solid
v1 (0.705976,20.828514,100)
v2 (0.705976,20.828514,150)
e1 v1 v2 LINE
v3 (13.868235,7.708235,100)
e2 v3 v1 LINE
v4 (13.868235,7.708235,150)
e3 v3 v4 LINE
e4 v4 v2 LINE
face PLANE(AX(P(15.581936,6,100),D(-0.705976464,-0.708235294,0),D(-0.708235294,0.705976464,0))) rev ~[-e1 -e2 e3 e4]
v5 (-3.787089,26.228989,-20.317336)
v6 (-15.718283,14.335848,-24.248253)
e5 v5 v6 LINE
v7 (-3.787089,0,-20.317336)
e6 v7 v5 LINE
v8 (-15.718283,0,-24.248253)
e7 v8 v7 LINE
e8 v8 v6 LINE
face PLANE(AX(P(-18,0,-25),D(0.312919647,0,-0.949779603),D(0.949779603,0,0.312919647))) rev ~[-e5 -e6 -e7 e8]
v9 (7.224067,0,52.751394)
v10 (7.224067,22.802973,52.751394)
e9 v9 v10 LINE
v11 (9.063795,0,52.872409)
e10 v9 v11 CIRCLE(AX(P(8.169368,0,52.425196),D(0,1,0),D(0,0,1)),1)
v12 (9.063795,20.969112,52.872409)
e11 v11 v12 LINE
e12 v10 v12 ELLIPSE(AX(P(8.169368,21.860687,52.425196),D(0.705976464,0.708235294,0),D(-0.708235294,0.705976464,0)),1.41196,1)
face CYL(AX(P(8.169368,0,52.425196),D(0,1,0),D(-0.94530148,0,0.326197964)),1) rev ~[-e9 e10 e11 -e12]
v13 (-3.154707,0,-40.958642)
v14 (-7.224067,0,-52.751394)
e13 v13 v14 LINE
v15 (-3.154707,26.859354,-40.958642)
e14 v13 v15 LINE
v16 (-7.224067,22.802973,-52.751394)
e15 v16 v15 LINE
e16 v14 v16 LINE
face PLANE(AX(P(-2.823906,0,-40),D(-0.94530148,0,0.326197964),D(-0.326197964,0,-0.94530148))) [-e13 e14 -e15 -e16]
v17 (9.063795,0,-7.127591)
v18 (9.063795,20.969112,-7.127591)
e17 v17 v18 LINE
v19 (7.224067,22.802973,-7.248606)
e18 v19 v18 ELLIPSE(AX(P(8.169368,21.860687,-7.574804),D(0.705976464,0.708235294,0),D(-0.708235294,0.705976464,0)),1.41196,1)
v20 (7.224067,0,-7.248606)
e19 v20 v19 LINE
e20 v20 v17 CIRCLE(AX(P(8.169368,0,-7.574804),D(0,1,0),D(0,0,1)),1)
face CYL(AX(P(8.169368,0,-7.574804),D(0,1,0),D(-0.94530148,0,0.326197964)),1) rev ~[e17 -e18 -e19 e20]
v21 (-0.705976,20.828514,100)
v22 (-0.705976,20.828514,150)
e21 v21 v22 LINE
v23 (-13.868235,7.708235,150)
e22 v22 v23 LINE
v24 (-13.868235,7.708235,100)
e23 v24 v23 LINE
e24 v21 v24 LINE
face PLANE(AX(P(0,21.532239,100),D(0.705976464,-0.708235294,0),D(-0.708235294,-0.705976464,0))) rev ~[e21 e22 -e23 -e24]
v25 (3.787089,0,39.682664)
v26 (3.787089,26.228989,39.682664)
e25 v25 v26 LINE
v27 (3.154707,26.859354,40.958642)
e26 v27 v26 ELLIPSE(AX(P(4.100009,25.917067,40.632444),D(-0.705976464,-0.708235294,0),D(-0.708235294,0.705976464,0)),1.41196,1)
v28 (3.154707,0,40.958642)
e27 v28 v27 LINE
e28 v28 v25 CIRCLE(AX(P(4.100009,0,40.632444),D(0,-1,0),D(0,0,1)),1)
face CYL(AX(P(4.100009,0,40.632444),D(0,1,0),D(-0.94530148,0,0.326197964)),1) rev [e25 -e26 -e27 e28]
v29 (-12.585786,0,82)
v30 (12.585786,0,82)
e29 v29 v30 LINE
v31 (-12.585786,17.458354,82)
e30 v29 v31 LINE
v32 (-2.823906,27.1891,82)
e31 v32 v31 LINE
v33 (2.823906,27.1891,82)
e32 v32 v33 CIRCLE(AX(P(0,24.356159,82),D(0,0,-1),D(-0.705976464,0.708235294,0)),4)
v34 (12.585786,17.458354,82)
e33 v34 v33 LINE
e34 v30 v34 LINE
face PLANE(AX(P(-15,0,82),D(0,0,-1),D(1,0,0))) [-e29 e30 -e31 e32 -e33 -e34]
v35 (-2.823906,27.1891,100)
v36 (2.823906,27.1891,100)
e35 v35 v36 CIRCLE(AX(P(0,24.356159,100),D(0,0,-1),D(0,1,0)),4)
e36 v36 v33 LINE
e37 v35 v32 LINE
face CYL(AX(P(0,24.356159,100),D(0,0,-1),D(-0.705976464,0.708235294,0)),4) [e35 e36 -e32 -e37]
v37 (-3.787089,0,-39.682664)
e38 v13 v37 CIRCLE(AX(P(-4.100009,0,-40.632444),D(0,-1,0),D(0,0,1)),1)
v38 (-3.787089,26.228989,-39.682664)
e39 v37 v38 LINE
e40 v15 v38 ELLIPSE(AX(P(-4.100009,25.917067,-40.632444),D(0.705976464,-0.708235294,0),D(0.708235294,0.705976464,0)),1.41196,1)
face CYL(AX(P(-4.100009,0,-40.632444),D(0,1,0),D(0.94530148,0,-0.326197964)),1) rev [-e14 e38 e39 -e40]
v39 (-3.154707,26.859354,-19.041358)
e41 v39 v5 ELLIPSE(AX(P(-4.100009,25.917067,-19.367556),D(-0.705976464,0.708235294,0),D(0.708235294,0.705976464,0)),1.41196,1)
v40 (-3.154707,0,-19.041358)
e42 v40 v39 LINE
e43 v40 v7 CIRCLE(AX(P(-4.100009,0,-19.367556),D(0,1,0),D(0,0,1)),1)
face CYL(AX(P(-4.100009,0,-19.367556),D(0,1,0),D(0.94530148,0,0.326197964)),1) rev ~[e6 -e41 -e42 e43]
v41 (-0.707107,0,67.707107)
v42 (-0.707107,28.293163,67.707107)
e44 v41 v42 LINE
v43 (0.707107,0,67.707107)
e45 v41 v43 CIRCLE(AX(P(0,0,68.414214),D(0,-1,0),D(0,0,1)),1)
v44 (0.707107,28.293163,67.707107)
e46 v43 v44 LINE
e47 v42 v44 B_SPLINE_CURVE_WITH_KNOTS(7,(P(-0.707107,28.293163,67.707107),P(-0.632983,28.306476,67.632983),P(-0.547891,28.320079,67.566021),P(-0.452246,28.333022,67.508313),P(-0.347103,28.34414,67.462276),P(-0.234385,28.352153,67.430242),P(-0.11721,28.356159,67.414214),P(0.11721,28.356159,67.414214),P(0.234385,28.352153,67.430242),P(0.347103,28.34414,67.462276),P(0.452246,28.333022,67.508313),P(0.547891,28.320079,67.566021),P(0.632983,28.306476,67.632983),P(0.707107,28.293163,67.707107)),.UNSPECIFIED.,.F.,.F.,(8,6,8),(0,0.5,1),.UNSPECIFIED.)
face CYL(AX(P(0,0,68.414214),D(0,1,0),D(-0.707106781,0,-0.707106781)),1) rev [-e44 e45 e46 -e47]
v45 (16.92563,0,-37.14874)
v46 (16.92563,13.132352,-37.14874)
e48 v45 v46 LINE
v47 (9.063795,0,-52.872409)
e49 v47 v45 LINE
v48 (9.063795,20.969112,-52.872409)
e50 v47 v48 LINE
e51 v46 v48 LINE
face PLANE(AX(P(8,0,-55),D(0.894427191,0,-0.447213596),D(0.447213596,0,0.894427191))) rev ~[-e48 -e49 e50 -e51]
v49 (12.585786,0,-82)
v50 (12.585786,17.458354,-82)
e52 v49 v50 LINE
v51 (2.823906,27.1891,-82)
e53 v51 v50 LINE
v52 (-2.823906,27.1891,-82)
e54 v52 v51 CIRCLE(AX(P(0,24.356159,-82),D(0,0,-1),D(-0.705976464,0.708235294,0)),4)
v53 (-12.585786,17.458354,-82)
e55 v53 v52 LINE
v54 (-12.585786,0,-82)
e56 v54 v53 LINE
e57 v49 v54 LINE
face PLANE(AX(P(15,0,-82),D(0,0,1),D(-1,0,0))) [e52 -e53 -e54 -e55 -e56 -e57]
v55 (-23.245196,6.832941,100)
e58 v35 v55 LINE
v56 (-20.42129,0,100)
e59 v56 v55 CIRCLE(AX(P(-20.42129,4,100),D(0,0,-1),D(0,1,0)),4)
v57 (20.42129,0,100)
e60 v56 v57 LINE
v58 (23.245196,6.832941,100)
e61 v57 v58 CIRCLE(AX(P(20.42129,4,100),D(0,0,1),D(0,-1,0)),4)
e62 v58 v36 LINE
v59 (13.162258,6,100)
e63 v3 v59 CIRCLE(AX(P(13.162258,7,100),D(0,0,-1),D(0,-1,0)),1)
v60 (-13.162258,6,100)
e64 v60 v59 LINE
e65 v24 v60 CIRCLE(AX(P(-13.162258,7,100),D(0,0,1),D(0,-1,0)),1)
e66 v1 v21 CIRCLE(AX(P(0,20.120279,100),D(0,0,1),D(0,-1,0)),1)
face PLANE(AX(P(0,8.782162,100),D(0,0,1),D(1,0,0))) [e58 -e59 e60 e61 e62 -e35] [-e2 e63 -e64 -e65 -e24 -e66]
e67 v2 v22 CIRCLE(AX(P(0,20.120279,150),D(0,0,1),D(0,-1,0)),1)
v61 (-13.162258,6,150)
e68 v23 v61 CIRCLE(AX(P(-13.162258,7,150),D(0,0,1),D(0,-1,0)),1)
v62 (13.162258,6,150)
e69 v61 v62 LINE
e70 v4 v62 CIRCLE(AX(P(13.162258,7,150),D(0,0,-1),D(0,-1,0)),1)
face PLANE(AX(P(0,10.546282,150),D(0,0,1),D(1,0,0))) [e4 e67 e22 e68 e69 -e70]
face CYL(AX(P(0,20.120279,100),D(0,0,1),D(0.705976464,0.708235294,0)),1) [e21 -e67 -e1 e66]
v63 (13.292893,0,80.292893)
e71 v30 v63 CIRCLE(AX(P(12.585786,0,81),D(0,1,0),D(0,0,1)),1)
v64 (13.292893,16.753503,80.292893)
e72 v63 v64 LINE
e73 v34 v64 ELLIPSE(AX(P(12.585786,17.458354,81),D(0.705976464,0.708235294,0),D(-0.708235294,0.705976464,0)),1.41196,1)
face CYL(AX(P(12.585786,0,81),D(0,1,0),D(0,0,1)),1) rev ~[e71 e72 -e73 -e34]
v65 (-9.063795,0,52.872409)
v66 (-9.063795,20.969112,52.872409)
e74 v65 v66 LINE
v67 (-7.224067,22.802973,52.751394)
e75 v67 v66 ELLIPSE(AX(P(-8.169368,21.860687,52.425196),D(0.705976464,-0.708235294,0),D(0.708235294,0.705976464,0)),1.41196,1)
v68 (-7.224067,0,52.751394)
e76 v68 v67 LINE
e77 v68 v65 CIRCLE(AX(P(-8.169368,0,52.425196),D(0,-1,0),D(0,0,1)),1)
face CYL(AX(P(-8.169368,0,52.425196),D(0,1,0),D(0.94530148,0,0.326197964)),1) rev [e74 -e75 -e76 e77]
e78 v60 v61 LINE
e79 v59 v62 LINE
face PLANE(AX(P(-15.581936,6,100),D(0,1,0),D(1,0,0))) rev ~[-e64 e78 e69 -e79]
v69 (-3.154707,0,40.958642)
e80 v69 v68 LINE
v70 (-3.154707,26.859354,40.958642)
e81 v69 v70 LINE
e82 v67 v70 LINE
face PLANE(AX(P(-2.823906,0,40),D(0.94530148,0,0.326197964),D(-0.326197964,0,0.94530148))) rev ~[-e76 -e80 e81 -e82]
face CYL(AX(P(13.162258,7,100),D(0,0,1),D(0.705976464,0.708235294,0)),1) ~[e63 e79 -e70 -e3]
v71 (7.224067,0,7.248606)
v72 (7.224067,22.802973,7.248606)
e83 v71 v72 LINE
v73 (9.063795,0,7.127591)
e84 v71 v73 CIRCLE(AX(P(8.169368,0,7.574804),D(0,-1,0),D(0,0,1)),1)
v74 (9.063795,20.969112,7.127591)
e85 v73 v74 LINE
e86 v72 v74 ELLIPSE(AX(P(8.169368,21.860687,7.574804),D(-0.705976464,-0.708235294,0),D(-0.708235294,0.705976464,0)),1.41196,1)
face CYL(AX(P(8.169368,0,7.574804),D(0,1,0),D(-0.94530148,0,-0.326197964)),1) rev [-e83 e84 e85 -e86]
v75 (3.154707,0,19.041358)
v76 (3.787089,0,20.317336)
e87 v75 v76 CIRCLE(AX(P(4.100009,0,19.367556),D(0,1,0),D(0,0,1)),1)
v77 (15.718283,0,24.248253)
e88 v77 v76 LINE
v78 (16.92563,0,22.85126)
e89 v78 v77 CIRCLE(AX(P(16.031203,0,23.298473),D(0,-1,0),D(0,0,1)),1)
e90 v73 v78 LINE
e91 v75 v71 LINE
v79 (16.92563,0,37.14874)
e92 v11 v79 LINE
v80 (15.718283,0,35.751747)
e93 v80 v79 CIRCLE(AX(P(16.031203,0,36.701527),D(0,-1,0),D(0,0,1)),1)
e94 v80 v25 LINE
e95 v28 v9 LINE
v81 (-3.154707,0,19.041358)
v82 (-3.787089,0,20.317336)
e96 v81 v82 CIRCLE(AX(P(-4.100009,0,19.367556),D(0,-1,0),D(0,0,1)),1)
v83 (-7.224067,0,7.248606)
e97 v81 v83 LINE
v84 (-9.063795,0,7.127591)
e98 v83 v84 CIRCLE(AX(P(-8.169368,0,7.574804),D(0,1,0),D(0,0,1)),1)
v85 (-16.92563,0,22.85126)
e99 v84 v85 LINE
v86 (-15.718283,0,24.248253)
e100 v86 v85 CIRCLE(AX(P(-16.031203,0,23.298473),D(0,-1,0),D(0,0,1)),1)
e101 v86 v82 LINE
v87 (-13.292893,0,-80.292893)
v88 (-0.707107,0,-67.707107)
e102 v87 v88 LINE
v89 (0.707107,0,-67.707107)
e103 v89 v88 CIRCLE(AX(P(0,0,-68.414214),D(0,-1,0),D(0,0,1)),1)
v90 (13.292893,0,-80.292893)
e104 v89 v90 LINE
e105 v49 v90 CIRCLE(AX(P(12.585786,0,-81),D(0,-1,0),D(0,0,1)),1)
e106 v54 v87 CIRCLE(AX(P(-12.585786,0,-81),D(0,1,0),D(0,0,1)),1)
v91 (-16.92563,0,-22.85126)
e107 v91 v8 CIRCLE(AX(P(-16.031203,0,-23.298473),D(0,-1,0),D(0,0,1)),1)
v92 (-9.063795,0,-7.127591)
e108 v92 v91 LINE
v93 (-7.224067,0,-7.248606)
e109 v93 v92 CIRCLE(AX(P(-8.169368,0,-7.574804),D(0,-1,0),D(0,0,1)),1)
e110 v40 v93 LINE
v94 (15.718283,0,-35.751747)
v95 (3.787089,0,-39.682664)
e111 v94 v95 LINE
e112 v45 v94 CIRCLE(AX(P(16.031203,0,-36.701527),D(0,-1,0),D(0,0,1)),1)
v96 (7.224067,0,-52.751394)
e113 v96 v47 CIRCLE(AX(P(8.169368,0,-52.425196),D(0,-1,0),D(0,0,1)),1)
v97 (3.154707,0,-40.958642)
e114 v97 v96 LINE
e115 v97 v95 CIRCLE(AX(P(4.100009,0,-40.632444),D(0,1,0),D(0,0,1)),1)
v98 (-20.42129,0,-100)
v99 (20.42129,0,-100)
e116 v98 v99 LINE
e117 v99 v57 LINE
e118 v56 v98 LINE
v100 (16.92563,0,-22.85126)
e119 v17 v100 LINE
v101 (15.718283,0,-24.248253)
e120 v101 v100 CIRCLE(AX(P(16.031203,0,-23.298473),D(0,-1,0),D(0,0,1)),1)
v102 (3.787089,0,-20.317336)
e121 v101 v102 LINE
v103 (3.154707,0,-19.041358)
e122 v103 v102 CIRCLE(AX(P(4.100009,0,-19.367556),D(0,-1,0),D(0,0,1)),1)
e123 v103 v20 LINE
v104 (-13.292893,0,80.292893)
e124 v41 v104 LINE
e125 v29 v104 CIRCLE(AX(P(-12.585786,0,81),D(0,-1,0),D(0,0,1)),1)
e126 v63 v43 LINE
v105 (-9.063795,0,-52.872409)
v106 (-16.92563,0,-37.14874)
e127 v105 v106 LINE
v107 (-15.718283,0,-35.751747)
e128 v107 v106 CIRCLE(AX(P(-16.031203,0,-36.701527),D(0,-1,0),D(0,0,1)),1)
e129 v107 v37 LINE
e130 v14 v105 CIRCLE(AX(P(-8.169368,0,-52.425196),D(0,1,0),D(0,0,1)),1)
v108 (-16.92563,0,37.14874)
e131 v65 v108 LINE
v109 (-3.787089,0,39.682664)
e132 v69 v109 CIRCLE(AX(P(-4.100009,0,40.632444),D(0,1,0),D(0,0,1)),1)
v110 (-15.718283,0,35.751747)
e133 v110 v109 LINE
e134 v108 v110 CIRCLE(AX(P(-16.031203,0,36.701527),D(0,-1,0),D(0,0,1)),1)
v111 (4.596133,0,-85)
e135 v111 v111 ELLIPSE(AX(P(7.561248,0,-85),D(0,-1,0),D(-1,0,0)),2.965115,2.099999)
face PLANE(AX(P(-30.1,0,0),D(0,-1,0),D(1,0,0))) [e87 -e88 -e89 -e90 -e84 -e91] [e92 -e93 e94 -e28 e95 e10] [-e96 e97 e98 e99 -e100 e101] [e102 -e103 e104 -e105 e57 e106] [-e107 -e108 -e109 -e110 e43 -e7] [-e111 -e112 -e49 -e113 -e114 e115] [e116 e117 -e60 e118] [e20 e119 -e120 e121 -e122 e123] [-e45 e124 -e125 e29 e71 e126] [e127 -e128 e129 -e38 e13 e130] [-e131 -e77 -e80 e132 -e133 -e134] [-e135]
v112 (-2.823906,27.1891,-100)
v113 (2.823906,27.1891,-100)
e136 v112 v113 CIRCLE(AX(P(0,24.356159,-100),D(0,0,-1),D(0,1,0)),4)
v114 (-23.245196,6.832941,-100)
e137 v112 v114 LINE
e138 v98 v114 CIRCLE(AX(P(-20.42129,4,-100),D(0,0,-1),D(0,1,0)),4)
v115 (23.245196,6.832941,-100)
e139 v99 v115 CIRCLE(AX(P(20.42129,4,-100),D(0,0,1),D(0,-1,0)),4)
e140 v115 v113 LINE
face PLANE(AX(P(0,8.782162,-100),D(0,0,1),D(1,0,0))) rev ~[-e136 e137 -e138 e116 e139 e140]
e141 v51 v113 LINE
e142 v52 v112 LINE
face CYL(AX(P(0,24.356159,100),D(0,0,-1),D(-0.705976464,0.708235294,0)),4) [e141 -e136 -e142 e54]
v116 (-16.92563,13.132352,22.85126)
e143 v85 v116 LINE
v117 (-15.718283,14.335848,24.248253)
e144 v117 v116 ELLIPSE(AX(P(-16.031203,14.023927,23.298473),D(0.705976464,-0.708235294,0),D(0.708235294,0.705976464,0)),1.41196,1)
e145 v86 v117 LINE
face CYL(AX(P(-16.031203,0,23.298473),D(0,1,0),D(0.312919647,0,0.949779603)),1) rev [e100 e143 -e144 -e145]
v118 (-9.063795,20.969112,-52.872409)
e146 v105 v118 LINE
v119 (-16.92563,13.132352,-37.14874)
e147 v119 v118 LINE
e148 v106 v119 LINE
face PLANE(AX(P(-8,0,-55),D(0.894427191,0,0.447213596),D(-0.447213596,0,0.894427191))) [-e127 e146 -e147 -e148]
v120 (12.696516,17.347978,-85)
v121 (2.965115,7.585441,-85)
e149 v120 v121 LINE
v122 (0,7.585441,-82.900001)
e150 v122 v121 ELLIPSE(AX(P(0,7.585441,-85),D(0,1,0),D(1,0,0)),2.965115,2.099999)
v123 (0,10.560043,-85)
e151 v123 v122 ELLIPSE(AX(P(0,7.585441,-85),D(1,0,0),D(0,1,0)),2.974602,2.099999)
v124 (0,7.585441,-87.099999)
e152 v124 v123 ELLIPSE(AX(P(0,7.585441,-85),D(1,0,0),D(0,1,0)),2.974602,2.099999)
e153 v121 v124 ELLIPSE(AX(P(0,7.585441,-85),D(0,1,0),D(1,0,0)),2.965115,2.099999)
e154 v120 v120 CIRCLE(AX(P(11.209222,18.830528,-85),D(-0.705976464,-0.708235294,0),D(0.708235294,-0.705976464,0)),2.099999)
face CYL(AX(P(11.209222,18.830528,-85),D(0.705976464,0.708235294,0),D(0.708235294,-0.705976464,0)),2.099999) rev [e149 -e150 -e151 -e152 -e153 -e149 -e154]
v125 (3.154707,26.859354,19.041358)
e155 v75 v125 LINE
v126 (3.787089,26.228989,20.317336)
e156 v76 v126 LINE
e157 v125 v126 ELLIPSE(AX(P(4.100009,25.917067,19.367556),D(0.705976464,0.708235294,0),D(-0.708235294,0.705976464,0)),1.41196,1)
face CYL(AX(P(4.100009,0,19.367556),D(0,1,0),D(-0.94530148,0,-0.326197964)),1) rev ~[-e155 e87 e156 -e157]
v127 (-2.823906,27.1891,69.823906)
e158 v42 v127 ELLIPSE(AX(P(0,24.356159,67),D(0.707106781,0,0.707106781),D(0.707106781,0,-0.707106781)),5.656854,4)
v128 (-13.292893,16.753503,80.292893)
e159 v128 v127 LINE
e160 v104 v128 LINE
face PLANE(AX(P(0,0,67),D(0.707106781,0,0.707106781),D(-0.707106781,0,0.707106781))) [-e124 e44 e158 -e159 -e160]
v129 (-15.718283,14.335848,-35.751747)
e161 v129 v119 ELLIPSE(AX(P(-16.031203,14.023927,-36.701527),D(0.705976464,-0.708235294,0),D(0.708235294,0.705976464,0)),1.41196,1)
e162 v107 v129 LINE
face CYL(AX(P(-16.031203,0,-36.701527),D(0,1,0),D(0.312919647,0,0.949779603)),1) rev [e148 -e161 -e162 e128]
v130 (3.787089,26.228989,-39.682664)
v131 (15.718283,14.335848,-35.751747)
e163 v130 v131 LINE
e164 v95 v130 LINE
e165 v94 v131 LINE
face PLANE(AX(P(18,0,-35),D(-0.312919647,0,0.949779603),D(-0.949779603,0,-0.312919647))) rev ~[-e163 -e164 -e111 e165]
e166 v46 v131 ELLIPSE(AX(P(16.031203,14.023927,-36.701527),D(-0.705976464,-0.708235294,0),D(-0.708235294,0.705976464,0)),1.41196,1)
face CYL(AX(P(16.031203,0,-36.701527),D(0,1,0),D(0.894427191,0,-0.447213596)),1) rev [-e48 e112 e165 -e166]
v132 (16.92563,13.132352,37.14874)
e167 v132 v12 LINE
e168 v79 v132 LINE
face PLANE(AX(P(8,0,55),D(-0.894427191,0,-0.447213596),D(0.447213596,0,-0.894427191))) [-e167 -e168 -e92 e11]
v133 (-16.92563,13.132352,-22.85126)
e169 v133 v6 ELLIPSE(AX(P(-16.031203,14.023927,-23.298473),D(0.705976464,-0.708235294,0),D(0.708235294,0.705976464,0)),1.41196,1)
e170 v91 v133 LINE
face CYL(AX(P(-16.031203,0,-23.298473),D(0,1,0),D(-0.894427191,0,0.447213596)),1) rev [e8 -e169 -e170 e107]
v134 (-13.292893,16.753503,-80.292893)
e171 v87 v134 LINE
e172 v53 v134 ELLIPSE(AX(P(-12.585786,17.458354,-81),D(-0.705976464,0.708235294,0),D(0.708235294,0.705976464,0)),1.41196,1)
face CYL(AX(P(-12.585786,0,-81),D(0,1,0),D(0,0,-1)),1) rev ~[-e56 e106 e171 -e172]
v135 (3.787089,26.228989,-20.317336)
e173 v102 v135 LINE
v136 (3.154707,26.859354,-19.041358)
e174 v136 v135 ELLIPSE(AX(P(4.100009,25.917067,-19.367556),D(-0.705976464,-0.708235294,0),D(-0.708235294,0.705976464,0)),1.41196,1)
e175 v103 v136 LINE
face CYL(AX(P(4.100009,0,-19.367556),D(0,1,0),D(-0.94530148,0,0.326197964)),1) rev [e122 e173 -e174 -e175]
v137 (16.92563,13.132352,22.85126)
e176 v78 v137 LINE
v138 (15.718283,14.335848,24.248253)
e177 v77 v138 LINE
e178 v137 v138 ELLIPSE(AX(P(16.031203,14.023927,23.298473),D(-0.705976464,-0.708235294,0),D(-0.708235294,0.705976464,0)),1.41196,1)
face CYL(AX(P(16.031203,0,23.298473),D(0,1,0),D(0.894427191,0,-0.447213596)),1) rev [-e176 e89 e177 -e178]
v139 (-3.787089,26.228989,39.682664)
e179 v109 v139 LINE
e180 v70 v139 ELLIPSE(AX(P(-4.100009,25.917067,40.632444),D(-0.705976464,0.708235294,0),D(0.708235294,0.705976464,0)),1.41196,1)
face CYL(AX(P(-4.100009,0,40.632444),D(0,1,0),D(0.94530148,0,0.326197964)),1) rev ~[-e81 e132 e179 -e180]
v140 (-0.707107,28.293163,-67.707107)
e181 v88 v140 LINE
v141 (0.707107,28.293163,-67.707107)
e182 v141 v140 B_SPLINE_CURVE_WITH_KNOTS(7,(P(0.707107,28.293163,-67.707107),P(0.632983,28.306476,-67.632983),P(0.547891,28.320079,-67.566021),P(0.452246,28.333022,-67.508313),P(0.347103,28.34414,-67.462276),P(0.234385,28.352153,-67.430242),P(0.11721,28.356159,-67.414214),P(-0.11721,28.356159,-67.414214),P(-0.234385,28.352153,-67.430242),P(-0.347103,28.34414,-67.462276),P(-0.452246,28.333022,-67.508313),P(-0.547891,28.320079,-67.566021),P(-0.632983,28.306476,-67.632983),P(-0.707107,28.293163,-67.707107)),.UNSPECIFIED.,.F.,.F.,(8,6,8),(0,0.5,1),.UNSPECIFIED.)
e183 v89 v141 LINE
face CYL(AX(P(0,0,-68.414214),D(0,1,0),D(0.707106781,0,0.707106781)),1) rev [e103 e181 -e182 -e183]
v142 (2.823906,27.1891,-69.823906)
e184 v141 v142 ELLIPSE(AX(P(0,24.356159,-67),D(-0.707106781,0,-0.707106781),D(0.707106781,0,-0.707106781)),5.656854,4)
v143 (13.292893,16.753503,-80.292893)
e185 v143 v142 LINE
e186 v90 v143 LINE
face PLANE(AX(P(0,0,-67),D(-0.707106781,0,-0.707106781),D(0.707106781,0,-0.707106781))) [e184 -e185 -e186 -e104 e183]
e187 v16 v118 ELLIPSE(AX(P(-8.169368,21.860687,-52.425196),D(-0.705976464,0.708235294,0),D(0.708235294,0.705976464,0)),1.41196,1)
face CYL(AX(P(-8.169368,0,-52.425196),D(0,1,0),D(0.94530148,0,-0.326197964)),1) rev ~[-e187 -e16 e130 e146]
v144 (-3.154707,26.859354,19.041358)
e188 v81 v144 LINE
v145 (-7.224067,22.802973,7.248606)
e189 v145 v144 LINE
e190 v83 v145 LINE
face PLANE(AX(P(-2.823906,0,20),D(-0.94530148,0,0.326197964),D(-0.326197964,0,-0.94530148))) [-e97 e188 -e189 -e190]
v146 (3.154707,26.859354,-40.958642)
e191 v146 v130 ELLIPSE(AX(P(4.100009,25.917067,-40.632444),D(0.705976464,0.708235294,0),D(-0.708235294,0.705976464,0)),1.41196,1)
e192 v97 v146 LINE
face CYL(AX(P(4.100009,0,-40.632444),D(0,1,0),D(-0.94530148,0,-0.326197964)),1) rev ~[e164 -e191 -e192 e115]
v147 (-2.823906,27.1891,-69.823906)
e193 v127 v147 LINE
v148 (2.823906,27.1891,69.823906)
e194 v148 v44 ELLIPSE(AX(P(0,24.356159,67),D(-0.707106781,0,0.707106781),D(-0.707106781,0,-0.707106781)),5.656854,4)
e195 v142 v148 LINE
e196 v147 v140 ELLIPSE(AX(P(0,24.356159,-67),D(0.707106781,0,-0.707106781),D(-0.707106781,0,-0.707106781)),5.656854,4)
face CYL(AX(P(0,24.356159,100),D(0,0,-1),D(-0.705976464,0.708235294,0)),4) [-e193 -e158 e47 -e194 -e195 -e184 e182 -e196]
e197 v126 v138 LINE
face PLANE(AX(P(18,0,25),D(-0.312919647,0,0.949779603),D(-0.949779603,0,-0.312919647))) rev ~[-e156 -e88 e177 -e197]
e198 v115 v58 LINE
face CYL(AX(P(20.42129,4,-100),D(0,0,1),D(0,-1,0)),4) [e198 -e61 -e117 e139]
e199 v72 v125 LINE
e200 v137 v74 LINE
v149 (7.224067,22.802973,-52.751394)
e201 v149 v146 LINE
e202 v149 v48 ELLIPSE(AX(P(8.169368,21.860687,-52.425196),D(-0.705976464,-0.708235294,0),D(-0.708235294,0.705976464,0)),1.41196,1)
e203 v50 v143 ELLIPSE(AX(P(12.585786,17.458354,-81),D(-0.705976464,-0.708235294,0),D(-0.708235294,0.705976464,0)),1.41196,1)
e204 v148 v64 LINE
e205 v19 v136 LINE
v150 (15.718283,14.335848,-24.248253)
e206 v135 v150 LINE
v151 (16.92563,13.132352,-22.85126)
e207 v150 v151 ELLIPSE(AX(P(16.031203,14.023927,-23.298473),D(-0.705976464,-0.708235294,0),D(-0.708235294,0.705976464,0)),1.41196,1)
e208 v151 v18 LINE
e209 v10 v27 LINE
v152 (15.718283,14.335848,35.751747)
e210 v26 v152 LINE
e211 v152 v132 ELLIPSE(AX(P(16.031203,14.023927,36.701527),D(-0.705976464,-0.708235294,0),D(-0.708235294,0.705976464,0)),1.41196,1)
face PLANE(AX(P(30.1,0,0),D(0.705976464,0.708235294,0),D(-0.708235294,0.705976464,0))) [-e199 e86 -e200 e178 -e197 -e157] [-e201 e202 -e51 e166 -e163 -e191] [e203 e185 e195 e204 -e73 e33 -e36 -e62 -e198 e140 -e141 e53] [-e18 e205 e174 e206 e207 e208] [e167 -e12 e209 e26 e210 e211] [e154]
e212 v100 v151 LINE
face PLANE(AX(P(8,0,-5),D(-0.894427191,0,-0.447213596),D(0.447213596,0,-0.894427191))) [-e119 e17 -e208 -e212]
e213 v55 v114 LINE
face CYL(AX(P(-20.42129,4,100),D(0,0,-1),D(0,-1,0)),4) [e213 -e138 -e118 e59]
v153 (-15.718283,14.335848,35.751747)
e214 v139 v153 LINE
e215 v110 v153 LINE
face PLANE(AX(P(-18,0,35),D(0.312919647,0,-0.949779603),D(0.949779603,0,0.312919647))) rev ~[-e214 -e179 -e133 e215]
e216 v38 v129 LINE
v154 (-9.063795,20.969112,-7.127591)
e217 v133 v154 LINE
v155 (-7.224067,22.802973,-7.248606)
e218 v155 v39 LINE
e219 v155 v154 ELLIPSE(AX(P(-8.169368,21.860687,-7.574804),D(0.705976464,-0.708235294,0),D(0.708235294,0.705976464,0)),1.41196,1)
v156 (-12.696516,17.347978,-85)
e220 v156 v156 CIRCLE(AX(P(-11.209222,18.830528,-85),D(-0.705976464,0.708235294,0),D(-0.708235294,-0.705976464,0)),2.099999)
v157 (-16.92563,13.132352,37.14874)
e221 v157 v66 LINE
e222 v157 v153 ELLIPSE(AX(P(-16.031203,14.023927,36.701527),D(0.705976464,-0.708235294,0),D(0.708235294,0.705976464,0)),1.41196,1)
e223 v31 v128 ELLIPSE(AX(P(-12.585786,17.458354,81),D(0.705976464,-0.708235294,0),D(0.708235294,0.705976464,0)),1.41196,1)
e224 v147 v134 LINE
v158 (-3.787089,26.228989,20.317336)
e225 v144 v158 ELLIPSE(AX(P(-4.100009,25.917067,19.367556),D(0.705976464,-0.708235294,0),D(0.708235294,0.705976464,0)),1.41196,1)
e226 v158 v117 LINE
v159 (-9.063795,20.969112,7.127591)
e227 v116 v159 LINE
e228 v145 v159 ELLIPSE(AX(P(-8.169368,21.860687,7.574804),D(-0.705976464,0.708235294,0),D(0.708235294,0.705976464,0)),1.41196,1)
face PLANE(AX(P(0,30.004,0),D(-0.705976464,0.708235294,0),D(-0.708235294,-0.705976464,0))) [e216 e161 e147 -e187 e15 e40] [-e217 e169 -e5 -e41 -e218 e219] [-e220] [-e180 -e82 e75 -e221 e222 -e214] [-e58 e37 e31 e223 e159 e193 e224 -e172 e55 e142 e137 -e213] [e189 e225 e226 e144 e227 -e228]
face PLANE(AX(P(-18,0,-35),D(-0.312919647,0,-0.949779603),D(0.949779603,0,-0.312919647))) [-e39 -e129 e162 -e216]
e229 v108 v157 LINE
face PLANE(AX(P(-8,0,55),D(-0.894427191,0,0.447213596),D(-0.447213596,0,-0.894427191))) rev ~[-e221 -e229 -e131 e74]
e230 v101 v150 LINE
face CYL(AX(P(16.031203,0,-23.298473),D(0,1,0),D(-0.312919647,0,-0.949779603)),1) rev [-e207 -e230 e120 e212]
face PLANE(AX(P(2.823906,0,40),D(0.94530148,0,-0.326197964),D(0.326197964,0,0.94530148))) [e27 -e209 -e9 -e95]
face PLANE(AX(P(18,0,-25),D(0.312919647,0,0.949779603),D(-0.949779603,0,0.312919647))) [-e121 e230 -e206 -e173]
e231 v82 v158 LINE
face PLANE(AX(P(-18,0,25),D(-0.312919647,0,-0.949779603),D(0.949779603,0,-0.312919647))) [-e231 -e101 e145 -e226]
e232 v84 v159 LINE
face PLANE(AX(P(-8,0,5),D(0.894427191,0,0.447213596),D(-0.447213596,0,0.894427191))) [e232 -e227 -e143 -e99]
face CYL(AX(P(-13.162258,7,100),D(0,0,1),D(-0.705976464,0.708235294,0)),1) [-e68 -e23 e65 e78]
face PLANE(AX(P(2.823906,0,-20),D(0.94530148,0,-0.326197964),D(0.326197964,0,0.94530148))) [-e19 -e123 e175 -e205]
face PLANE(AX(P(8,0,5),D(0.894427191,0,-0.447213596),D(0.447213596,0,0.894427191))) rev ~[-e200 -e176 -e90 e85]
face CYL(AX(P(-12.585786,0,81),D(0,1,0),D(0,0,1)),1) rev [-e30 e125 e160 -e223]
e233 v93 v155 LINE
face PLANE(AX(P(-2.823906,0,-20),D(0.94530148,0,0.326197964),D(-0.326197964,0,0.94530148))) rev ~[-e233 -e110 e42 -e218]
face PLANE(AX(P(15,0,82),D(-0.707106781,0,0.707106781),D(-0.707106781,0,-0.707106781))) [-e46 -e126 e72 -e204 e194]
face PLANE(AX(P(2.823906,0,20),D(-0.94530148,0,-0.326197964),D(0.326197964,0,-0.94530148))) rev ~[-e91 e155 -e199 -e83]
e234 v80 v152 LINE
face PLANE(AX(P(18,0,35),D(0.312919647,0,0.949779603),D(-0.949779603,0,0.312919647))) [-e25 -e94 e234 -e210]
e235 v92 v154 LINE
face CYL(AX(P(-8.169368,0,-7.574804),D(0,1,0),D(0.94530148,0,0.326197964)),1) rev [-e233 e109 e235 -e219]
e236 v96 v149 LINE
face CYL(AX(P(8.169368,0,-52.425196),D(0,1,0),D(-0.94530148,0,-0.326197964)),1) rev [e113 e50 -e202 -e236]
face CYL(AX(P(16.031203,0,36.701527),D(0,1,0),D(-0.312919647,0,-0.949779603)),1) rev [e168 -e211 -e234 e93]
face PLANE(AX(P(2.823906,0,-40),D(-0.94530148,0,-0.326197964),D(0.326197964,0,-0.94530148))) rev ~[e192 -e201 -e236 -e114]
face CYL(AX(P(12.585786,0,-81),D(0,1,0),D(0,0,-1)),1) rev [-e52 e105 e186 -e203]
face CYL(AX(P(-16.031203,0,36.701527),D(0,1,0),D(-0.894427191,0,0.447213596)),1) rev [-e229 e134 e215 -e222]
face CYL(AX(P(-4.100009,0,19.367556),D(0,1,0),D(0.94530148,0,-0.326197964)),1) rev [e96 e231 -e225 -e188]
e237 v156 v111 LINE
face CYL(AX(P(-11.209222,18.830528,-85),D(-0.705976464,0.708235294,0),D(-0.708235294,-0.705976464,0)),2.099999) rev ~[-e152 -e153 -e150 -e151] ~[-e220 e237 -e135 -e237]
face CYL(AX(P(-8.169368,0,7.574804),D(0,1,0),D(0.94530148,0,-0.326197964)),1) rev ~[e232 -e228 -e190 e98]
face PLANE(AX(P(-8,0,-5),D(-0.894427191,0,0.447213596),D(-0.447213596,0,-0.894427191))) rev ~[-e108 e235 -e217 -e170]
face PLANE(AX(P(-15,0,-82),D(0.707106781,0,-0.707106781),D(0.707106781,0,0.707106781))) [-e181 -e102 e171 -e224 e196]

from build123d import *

# Parameters (mm, degrees)
EXTRUDE_1_DEPTH     = 100
FILLET_1_R          = 4
EXTRUDE_2_DEPTH     = 50
FILLET_2_R          = 1
CUT_EXTRUDE_1_DEPTH = 155.597772267
FILLET_3_R          = 1
CUT_EXTRUDE_2_REACH = 157.823
SKETCH_4_R          = 2.099999206


with BuildPart() as part:
    # 草图1 → 凸台-拉伸1 (new, symmetric)
    with BuildSketch(Plane.XY):
        Polygon((-30.1, 0), (30.1, 0), (0, 30.003999733), align=None)
    extrude(amount=EXTRUDE_1_DEPTH, both=True)

    # 圆角1
    fillet_1_edges = [part.edges().sort_by_distance(p)[0] for p in [
        (0, 30.003999733, 0),
        (30.1, 0, 0),
        (-30.1, 0, 0),
    ]]
    fillet(fillet_1_edges, radius=FILLET_1_R)

    # 草图2 → 凸台-拉伸2 (add)
    with BuildSketch(Plane.XY.offset(100)):
        Polygon((15.581935613, 6), (0, 21.532238936), (-15.581935613, 6), align=None)
    extrude(amount=EXTRUDE_2_DEPTH)

    # 圆角2
    fillet_2_edges = [part.edges().sort_by_distance(p)[0] for p in [
        (-15.581935613, 6, 125),
        (15.581935613, 6, 125),
        (0, 21.532238936, 125),
    ]]
    fillet(fillet_2_edges, radius=FILLET_2_R)

    # 草图3 → 切除-拉伸1 (cut, through all)
    with BuildSketch(Plane(origin=(0, 0, 0), x_dir=(1, 0, 0), z_dir=(0, 1, 0))):
        Polygon((-15, 82), (0, 67), (15, 82), align=None)
        Polygon((-8, 55), (-18, 35), (-2.823905857, 40), align=None)
        Polygon((2.823905857, 40), (8, 55), (18, 35), align=None)
        Polygon((8, 5), (18, 25), (2.823905857, 20), align=None)
        Polygon((-2.823905857, 20), (-8, 5), (-18, 25), align=None)
        Polygon((-8, -5), (-18, -25), (-2.823905857, -20), align=None)
        Polygon((2.823905857, -20), (8, -5), (18, -25), align=None)
        Polygon((8, -55), (18, -35), (2.823905857, -40), align=None)
        Polygon((-2.823905857, -40), (-8, -55), (-18, -35), align=None)
        Polygon((15, -82), (0, -67), (-15, -82), align=None)
    extrude(amount=CUT_EXTRUDE_1_DEPTH, mode=Mode.SUBTRACT)

    # 圆角3
    fillet_3_edges = [part.edges().sort_by_distance(p)[0] for p in [
        (0, 14.178079601, -67),
        (-15, 7.525920199, -82),
        (2.823905857, 13.594550189, -40),
        (8, 11.014757377, -55),
        (18, 6.030704265, -35),
        (-2.823905857, 13.594550189, -20),
        (-8, 11.014757377, -5),
        (-18, 6.030704265, -25),
        (2.823905857, 13.594550189, 20),
        (8, 11.014757377, 5),
        (18, 6.030704265, 25),
        (-2.823905857, 13.594550189, 40),
        (-8, 11.014757377, 55),
        (-18, 6.030704265, 35),
        (-15, 7.525920199, 82),
        (0, 14.178079601, 67),
        (15, 7.525920199, 82),
        (2.823905857, 13.594550189, 40),
        (18, 6.030704265, 35),
        (8, 11.014757377, 55),
        (-2.823905857, 13.594550189, 20),
        (-18, 6.030704265, 25),
        (-8, 11.014757377, 5),
        (2.823905857, 13.594550189, -20),
        (18, 6.030704265, -25),
        (8, 11.014757377, -5),
        (-2.823905857, 13.594550189, -40),
        (-18, 6.030704265, -35),
        (-8, 11.014757377, -55),
        (15, 7.525920199, -82),
    ]]
    fillet(fillet_3_edges, radius=FILLET_3_R)

    # 草图4 → 切除-拉伸2 (cut, up to next)
    with BuildSketch(Plane(origin=(-15.001923322, 15.04992321, 0), x_dir=(0.7082352941176472, 0.705976464314562, 0), z_dir=(-0.705976464314562, 0.7082352941176472, 0)), mode=Mode.PRIVATE) as cut_extrude_2_sk1:
        with Locations(Location((5.355142644, 85, 0), (0, 0, 180))):
            Circle(SKETCH_4_R)
    cut_extrude_2_tool1 = extrude(cut_extrude_2_sk1.sketch, amount=-CUT_EXTRUDE_2_REACH, mode=Mode.PRIVATE) & part.part
    cut_extrude_2 = cut_extrude_2_tool1.solids().sort_by_distance((-11.209222, 18.830528, -85))[0]
    add(cut_extrude_2, mode=Mode.SUBTRACT)

    # 镜向1: 切除-拉伸2 mirrored; each copy of 切除-拉伸2 runs up to whatever stops it at its own place
    mirror_1_before = part.part  # the part as the pattern finds it: every copy runs up to it
    mirror_1_cut_extrude_2_long = extrude(cut_extrude_2_sk1.sketch, amount=-CUT_EXTRUDE_2_REACH, mode=Mode.PRIVATE)
    mirror_1_cut_extrude_2_tool1 = mirror_1_cut_extrude_2_long.mirror(Plane(origin=(0, 0, 0), x_dir=(0, 0, 1), z_dir=(1, 0, 0))) & mirror_1_before
    add(mirror_1_cut_extrude_2_tool1.solids().sort_by_distance((11.209222, 18.830528, -85))[0], mode=Mode.SUBTRACT)


solid = part.part
